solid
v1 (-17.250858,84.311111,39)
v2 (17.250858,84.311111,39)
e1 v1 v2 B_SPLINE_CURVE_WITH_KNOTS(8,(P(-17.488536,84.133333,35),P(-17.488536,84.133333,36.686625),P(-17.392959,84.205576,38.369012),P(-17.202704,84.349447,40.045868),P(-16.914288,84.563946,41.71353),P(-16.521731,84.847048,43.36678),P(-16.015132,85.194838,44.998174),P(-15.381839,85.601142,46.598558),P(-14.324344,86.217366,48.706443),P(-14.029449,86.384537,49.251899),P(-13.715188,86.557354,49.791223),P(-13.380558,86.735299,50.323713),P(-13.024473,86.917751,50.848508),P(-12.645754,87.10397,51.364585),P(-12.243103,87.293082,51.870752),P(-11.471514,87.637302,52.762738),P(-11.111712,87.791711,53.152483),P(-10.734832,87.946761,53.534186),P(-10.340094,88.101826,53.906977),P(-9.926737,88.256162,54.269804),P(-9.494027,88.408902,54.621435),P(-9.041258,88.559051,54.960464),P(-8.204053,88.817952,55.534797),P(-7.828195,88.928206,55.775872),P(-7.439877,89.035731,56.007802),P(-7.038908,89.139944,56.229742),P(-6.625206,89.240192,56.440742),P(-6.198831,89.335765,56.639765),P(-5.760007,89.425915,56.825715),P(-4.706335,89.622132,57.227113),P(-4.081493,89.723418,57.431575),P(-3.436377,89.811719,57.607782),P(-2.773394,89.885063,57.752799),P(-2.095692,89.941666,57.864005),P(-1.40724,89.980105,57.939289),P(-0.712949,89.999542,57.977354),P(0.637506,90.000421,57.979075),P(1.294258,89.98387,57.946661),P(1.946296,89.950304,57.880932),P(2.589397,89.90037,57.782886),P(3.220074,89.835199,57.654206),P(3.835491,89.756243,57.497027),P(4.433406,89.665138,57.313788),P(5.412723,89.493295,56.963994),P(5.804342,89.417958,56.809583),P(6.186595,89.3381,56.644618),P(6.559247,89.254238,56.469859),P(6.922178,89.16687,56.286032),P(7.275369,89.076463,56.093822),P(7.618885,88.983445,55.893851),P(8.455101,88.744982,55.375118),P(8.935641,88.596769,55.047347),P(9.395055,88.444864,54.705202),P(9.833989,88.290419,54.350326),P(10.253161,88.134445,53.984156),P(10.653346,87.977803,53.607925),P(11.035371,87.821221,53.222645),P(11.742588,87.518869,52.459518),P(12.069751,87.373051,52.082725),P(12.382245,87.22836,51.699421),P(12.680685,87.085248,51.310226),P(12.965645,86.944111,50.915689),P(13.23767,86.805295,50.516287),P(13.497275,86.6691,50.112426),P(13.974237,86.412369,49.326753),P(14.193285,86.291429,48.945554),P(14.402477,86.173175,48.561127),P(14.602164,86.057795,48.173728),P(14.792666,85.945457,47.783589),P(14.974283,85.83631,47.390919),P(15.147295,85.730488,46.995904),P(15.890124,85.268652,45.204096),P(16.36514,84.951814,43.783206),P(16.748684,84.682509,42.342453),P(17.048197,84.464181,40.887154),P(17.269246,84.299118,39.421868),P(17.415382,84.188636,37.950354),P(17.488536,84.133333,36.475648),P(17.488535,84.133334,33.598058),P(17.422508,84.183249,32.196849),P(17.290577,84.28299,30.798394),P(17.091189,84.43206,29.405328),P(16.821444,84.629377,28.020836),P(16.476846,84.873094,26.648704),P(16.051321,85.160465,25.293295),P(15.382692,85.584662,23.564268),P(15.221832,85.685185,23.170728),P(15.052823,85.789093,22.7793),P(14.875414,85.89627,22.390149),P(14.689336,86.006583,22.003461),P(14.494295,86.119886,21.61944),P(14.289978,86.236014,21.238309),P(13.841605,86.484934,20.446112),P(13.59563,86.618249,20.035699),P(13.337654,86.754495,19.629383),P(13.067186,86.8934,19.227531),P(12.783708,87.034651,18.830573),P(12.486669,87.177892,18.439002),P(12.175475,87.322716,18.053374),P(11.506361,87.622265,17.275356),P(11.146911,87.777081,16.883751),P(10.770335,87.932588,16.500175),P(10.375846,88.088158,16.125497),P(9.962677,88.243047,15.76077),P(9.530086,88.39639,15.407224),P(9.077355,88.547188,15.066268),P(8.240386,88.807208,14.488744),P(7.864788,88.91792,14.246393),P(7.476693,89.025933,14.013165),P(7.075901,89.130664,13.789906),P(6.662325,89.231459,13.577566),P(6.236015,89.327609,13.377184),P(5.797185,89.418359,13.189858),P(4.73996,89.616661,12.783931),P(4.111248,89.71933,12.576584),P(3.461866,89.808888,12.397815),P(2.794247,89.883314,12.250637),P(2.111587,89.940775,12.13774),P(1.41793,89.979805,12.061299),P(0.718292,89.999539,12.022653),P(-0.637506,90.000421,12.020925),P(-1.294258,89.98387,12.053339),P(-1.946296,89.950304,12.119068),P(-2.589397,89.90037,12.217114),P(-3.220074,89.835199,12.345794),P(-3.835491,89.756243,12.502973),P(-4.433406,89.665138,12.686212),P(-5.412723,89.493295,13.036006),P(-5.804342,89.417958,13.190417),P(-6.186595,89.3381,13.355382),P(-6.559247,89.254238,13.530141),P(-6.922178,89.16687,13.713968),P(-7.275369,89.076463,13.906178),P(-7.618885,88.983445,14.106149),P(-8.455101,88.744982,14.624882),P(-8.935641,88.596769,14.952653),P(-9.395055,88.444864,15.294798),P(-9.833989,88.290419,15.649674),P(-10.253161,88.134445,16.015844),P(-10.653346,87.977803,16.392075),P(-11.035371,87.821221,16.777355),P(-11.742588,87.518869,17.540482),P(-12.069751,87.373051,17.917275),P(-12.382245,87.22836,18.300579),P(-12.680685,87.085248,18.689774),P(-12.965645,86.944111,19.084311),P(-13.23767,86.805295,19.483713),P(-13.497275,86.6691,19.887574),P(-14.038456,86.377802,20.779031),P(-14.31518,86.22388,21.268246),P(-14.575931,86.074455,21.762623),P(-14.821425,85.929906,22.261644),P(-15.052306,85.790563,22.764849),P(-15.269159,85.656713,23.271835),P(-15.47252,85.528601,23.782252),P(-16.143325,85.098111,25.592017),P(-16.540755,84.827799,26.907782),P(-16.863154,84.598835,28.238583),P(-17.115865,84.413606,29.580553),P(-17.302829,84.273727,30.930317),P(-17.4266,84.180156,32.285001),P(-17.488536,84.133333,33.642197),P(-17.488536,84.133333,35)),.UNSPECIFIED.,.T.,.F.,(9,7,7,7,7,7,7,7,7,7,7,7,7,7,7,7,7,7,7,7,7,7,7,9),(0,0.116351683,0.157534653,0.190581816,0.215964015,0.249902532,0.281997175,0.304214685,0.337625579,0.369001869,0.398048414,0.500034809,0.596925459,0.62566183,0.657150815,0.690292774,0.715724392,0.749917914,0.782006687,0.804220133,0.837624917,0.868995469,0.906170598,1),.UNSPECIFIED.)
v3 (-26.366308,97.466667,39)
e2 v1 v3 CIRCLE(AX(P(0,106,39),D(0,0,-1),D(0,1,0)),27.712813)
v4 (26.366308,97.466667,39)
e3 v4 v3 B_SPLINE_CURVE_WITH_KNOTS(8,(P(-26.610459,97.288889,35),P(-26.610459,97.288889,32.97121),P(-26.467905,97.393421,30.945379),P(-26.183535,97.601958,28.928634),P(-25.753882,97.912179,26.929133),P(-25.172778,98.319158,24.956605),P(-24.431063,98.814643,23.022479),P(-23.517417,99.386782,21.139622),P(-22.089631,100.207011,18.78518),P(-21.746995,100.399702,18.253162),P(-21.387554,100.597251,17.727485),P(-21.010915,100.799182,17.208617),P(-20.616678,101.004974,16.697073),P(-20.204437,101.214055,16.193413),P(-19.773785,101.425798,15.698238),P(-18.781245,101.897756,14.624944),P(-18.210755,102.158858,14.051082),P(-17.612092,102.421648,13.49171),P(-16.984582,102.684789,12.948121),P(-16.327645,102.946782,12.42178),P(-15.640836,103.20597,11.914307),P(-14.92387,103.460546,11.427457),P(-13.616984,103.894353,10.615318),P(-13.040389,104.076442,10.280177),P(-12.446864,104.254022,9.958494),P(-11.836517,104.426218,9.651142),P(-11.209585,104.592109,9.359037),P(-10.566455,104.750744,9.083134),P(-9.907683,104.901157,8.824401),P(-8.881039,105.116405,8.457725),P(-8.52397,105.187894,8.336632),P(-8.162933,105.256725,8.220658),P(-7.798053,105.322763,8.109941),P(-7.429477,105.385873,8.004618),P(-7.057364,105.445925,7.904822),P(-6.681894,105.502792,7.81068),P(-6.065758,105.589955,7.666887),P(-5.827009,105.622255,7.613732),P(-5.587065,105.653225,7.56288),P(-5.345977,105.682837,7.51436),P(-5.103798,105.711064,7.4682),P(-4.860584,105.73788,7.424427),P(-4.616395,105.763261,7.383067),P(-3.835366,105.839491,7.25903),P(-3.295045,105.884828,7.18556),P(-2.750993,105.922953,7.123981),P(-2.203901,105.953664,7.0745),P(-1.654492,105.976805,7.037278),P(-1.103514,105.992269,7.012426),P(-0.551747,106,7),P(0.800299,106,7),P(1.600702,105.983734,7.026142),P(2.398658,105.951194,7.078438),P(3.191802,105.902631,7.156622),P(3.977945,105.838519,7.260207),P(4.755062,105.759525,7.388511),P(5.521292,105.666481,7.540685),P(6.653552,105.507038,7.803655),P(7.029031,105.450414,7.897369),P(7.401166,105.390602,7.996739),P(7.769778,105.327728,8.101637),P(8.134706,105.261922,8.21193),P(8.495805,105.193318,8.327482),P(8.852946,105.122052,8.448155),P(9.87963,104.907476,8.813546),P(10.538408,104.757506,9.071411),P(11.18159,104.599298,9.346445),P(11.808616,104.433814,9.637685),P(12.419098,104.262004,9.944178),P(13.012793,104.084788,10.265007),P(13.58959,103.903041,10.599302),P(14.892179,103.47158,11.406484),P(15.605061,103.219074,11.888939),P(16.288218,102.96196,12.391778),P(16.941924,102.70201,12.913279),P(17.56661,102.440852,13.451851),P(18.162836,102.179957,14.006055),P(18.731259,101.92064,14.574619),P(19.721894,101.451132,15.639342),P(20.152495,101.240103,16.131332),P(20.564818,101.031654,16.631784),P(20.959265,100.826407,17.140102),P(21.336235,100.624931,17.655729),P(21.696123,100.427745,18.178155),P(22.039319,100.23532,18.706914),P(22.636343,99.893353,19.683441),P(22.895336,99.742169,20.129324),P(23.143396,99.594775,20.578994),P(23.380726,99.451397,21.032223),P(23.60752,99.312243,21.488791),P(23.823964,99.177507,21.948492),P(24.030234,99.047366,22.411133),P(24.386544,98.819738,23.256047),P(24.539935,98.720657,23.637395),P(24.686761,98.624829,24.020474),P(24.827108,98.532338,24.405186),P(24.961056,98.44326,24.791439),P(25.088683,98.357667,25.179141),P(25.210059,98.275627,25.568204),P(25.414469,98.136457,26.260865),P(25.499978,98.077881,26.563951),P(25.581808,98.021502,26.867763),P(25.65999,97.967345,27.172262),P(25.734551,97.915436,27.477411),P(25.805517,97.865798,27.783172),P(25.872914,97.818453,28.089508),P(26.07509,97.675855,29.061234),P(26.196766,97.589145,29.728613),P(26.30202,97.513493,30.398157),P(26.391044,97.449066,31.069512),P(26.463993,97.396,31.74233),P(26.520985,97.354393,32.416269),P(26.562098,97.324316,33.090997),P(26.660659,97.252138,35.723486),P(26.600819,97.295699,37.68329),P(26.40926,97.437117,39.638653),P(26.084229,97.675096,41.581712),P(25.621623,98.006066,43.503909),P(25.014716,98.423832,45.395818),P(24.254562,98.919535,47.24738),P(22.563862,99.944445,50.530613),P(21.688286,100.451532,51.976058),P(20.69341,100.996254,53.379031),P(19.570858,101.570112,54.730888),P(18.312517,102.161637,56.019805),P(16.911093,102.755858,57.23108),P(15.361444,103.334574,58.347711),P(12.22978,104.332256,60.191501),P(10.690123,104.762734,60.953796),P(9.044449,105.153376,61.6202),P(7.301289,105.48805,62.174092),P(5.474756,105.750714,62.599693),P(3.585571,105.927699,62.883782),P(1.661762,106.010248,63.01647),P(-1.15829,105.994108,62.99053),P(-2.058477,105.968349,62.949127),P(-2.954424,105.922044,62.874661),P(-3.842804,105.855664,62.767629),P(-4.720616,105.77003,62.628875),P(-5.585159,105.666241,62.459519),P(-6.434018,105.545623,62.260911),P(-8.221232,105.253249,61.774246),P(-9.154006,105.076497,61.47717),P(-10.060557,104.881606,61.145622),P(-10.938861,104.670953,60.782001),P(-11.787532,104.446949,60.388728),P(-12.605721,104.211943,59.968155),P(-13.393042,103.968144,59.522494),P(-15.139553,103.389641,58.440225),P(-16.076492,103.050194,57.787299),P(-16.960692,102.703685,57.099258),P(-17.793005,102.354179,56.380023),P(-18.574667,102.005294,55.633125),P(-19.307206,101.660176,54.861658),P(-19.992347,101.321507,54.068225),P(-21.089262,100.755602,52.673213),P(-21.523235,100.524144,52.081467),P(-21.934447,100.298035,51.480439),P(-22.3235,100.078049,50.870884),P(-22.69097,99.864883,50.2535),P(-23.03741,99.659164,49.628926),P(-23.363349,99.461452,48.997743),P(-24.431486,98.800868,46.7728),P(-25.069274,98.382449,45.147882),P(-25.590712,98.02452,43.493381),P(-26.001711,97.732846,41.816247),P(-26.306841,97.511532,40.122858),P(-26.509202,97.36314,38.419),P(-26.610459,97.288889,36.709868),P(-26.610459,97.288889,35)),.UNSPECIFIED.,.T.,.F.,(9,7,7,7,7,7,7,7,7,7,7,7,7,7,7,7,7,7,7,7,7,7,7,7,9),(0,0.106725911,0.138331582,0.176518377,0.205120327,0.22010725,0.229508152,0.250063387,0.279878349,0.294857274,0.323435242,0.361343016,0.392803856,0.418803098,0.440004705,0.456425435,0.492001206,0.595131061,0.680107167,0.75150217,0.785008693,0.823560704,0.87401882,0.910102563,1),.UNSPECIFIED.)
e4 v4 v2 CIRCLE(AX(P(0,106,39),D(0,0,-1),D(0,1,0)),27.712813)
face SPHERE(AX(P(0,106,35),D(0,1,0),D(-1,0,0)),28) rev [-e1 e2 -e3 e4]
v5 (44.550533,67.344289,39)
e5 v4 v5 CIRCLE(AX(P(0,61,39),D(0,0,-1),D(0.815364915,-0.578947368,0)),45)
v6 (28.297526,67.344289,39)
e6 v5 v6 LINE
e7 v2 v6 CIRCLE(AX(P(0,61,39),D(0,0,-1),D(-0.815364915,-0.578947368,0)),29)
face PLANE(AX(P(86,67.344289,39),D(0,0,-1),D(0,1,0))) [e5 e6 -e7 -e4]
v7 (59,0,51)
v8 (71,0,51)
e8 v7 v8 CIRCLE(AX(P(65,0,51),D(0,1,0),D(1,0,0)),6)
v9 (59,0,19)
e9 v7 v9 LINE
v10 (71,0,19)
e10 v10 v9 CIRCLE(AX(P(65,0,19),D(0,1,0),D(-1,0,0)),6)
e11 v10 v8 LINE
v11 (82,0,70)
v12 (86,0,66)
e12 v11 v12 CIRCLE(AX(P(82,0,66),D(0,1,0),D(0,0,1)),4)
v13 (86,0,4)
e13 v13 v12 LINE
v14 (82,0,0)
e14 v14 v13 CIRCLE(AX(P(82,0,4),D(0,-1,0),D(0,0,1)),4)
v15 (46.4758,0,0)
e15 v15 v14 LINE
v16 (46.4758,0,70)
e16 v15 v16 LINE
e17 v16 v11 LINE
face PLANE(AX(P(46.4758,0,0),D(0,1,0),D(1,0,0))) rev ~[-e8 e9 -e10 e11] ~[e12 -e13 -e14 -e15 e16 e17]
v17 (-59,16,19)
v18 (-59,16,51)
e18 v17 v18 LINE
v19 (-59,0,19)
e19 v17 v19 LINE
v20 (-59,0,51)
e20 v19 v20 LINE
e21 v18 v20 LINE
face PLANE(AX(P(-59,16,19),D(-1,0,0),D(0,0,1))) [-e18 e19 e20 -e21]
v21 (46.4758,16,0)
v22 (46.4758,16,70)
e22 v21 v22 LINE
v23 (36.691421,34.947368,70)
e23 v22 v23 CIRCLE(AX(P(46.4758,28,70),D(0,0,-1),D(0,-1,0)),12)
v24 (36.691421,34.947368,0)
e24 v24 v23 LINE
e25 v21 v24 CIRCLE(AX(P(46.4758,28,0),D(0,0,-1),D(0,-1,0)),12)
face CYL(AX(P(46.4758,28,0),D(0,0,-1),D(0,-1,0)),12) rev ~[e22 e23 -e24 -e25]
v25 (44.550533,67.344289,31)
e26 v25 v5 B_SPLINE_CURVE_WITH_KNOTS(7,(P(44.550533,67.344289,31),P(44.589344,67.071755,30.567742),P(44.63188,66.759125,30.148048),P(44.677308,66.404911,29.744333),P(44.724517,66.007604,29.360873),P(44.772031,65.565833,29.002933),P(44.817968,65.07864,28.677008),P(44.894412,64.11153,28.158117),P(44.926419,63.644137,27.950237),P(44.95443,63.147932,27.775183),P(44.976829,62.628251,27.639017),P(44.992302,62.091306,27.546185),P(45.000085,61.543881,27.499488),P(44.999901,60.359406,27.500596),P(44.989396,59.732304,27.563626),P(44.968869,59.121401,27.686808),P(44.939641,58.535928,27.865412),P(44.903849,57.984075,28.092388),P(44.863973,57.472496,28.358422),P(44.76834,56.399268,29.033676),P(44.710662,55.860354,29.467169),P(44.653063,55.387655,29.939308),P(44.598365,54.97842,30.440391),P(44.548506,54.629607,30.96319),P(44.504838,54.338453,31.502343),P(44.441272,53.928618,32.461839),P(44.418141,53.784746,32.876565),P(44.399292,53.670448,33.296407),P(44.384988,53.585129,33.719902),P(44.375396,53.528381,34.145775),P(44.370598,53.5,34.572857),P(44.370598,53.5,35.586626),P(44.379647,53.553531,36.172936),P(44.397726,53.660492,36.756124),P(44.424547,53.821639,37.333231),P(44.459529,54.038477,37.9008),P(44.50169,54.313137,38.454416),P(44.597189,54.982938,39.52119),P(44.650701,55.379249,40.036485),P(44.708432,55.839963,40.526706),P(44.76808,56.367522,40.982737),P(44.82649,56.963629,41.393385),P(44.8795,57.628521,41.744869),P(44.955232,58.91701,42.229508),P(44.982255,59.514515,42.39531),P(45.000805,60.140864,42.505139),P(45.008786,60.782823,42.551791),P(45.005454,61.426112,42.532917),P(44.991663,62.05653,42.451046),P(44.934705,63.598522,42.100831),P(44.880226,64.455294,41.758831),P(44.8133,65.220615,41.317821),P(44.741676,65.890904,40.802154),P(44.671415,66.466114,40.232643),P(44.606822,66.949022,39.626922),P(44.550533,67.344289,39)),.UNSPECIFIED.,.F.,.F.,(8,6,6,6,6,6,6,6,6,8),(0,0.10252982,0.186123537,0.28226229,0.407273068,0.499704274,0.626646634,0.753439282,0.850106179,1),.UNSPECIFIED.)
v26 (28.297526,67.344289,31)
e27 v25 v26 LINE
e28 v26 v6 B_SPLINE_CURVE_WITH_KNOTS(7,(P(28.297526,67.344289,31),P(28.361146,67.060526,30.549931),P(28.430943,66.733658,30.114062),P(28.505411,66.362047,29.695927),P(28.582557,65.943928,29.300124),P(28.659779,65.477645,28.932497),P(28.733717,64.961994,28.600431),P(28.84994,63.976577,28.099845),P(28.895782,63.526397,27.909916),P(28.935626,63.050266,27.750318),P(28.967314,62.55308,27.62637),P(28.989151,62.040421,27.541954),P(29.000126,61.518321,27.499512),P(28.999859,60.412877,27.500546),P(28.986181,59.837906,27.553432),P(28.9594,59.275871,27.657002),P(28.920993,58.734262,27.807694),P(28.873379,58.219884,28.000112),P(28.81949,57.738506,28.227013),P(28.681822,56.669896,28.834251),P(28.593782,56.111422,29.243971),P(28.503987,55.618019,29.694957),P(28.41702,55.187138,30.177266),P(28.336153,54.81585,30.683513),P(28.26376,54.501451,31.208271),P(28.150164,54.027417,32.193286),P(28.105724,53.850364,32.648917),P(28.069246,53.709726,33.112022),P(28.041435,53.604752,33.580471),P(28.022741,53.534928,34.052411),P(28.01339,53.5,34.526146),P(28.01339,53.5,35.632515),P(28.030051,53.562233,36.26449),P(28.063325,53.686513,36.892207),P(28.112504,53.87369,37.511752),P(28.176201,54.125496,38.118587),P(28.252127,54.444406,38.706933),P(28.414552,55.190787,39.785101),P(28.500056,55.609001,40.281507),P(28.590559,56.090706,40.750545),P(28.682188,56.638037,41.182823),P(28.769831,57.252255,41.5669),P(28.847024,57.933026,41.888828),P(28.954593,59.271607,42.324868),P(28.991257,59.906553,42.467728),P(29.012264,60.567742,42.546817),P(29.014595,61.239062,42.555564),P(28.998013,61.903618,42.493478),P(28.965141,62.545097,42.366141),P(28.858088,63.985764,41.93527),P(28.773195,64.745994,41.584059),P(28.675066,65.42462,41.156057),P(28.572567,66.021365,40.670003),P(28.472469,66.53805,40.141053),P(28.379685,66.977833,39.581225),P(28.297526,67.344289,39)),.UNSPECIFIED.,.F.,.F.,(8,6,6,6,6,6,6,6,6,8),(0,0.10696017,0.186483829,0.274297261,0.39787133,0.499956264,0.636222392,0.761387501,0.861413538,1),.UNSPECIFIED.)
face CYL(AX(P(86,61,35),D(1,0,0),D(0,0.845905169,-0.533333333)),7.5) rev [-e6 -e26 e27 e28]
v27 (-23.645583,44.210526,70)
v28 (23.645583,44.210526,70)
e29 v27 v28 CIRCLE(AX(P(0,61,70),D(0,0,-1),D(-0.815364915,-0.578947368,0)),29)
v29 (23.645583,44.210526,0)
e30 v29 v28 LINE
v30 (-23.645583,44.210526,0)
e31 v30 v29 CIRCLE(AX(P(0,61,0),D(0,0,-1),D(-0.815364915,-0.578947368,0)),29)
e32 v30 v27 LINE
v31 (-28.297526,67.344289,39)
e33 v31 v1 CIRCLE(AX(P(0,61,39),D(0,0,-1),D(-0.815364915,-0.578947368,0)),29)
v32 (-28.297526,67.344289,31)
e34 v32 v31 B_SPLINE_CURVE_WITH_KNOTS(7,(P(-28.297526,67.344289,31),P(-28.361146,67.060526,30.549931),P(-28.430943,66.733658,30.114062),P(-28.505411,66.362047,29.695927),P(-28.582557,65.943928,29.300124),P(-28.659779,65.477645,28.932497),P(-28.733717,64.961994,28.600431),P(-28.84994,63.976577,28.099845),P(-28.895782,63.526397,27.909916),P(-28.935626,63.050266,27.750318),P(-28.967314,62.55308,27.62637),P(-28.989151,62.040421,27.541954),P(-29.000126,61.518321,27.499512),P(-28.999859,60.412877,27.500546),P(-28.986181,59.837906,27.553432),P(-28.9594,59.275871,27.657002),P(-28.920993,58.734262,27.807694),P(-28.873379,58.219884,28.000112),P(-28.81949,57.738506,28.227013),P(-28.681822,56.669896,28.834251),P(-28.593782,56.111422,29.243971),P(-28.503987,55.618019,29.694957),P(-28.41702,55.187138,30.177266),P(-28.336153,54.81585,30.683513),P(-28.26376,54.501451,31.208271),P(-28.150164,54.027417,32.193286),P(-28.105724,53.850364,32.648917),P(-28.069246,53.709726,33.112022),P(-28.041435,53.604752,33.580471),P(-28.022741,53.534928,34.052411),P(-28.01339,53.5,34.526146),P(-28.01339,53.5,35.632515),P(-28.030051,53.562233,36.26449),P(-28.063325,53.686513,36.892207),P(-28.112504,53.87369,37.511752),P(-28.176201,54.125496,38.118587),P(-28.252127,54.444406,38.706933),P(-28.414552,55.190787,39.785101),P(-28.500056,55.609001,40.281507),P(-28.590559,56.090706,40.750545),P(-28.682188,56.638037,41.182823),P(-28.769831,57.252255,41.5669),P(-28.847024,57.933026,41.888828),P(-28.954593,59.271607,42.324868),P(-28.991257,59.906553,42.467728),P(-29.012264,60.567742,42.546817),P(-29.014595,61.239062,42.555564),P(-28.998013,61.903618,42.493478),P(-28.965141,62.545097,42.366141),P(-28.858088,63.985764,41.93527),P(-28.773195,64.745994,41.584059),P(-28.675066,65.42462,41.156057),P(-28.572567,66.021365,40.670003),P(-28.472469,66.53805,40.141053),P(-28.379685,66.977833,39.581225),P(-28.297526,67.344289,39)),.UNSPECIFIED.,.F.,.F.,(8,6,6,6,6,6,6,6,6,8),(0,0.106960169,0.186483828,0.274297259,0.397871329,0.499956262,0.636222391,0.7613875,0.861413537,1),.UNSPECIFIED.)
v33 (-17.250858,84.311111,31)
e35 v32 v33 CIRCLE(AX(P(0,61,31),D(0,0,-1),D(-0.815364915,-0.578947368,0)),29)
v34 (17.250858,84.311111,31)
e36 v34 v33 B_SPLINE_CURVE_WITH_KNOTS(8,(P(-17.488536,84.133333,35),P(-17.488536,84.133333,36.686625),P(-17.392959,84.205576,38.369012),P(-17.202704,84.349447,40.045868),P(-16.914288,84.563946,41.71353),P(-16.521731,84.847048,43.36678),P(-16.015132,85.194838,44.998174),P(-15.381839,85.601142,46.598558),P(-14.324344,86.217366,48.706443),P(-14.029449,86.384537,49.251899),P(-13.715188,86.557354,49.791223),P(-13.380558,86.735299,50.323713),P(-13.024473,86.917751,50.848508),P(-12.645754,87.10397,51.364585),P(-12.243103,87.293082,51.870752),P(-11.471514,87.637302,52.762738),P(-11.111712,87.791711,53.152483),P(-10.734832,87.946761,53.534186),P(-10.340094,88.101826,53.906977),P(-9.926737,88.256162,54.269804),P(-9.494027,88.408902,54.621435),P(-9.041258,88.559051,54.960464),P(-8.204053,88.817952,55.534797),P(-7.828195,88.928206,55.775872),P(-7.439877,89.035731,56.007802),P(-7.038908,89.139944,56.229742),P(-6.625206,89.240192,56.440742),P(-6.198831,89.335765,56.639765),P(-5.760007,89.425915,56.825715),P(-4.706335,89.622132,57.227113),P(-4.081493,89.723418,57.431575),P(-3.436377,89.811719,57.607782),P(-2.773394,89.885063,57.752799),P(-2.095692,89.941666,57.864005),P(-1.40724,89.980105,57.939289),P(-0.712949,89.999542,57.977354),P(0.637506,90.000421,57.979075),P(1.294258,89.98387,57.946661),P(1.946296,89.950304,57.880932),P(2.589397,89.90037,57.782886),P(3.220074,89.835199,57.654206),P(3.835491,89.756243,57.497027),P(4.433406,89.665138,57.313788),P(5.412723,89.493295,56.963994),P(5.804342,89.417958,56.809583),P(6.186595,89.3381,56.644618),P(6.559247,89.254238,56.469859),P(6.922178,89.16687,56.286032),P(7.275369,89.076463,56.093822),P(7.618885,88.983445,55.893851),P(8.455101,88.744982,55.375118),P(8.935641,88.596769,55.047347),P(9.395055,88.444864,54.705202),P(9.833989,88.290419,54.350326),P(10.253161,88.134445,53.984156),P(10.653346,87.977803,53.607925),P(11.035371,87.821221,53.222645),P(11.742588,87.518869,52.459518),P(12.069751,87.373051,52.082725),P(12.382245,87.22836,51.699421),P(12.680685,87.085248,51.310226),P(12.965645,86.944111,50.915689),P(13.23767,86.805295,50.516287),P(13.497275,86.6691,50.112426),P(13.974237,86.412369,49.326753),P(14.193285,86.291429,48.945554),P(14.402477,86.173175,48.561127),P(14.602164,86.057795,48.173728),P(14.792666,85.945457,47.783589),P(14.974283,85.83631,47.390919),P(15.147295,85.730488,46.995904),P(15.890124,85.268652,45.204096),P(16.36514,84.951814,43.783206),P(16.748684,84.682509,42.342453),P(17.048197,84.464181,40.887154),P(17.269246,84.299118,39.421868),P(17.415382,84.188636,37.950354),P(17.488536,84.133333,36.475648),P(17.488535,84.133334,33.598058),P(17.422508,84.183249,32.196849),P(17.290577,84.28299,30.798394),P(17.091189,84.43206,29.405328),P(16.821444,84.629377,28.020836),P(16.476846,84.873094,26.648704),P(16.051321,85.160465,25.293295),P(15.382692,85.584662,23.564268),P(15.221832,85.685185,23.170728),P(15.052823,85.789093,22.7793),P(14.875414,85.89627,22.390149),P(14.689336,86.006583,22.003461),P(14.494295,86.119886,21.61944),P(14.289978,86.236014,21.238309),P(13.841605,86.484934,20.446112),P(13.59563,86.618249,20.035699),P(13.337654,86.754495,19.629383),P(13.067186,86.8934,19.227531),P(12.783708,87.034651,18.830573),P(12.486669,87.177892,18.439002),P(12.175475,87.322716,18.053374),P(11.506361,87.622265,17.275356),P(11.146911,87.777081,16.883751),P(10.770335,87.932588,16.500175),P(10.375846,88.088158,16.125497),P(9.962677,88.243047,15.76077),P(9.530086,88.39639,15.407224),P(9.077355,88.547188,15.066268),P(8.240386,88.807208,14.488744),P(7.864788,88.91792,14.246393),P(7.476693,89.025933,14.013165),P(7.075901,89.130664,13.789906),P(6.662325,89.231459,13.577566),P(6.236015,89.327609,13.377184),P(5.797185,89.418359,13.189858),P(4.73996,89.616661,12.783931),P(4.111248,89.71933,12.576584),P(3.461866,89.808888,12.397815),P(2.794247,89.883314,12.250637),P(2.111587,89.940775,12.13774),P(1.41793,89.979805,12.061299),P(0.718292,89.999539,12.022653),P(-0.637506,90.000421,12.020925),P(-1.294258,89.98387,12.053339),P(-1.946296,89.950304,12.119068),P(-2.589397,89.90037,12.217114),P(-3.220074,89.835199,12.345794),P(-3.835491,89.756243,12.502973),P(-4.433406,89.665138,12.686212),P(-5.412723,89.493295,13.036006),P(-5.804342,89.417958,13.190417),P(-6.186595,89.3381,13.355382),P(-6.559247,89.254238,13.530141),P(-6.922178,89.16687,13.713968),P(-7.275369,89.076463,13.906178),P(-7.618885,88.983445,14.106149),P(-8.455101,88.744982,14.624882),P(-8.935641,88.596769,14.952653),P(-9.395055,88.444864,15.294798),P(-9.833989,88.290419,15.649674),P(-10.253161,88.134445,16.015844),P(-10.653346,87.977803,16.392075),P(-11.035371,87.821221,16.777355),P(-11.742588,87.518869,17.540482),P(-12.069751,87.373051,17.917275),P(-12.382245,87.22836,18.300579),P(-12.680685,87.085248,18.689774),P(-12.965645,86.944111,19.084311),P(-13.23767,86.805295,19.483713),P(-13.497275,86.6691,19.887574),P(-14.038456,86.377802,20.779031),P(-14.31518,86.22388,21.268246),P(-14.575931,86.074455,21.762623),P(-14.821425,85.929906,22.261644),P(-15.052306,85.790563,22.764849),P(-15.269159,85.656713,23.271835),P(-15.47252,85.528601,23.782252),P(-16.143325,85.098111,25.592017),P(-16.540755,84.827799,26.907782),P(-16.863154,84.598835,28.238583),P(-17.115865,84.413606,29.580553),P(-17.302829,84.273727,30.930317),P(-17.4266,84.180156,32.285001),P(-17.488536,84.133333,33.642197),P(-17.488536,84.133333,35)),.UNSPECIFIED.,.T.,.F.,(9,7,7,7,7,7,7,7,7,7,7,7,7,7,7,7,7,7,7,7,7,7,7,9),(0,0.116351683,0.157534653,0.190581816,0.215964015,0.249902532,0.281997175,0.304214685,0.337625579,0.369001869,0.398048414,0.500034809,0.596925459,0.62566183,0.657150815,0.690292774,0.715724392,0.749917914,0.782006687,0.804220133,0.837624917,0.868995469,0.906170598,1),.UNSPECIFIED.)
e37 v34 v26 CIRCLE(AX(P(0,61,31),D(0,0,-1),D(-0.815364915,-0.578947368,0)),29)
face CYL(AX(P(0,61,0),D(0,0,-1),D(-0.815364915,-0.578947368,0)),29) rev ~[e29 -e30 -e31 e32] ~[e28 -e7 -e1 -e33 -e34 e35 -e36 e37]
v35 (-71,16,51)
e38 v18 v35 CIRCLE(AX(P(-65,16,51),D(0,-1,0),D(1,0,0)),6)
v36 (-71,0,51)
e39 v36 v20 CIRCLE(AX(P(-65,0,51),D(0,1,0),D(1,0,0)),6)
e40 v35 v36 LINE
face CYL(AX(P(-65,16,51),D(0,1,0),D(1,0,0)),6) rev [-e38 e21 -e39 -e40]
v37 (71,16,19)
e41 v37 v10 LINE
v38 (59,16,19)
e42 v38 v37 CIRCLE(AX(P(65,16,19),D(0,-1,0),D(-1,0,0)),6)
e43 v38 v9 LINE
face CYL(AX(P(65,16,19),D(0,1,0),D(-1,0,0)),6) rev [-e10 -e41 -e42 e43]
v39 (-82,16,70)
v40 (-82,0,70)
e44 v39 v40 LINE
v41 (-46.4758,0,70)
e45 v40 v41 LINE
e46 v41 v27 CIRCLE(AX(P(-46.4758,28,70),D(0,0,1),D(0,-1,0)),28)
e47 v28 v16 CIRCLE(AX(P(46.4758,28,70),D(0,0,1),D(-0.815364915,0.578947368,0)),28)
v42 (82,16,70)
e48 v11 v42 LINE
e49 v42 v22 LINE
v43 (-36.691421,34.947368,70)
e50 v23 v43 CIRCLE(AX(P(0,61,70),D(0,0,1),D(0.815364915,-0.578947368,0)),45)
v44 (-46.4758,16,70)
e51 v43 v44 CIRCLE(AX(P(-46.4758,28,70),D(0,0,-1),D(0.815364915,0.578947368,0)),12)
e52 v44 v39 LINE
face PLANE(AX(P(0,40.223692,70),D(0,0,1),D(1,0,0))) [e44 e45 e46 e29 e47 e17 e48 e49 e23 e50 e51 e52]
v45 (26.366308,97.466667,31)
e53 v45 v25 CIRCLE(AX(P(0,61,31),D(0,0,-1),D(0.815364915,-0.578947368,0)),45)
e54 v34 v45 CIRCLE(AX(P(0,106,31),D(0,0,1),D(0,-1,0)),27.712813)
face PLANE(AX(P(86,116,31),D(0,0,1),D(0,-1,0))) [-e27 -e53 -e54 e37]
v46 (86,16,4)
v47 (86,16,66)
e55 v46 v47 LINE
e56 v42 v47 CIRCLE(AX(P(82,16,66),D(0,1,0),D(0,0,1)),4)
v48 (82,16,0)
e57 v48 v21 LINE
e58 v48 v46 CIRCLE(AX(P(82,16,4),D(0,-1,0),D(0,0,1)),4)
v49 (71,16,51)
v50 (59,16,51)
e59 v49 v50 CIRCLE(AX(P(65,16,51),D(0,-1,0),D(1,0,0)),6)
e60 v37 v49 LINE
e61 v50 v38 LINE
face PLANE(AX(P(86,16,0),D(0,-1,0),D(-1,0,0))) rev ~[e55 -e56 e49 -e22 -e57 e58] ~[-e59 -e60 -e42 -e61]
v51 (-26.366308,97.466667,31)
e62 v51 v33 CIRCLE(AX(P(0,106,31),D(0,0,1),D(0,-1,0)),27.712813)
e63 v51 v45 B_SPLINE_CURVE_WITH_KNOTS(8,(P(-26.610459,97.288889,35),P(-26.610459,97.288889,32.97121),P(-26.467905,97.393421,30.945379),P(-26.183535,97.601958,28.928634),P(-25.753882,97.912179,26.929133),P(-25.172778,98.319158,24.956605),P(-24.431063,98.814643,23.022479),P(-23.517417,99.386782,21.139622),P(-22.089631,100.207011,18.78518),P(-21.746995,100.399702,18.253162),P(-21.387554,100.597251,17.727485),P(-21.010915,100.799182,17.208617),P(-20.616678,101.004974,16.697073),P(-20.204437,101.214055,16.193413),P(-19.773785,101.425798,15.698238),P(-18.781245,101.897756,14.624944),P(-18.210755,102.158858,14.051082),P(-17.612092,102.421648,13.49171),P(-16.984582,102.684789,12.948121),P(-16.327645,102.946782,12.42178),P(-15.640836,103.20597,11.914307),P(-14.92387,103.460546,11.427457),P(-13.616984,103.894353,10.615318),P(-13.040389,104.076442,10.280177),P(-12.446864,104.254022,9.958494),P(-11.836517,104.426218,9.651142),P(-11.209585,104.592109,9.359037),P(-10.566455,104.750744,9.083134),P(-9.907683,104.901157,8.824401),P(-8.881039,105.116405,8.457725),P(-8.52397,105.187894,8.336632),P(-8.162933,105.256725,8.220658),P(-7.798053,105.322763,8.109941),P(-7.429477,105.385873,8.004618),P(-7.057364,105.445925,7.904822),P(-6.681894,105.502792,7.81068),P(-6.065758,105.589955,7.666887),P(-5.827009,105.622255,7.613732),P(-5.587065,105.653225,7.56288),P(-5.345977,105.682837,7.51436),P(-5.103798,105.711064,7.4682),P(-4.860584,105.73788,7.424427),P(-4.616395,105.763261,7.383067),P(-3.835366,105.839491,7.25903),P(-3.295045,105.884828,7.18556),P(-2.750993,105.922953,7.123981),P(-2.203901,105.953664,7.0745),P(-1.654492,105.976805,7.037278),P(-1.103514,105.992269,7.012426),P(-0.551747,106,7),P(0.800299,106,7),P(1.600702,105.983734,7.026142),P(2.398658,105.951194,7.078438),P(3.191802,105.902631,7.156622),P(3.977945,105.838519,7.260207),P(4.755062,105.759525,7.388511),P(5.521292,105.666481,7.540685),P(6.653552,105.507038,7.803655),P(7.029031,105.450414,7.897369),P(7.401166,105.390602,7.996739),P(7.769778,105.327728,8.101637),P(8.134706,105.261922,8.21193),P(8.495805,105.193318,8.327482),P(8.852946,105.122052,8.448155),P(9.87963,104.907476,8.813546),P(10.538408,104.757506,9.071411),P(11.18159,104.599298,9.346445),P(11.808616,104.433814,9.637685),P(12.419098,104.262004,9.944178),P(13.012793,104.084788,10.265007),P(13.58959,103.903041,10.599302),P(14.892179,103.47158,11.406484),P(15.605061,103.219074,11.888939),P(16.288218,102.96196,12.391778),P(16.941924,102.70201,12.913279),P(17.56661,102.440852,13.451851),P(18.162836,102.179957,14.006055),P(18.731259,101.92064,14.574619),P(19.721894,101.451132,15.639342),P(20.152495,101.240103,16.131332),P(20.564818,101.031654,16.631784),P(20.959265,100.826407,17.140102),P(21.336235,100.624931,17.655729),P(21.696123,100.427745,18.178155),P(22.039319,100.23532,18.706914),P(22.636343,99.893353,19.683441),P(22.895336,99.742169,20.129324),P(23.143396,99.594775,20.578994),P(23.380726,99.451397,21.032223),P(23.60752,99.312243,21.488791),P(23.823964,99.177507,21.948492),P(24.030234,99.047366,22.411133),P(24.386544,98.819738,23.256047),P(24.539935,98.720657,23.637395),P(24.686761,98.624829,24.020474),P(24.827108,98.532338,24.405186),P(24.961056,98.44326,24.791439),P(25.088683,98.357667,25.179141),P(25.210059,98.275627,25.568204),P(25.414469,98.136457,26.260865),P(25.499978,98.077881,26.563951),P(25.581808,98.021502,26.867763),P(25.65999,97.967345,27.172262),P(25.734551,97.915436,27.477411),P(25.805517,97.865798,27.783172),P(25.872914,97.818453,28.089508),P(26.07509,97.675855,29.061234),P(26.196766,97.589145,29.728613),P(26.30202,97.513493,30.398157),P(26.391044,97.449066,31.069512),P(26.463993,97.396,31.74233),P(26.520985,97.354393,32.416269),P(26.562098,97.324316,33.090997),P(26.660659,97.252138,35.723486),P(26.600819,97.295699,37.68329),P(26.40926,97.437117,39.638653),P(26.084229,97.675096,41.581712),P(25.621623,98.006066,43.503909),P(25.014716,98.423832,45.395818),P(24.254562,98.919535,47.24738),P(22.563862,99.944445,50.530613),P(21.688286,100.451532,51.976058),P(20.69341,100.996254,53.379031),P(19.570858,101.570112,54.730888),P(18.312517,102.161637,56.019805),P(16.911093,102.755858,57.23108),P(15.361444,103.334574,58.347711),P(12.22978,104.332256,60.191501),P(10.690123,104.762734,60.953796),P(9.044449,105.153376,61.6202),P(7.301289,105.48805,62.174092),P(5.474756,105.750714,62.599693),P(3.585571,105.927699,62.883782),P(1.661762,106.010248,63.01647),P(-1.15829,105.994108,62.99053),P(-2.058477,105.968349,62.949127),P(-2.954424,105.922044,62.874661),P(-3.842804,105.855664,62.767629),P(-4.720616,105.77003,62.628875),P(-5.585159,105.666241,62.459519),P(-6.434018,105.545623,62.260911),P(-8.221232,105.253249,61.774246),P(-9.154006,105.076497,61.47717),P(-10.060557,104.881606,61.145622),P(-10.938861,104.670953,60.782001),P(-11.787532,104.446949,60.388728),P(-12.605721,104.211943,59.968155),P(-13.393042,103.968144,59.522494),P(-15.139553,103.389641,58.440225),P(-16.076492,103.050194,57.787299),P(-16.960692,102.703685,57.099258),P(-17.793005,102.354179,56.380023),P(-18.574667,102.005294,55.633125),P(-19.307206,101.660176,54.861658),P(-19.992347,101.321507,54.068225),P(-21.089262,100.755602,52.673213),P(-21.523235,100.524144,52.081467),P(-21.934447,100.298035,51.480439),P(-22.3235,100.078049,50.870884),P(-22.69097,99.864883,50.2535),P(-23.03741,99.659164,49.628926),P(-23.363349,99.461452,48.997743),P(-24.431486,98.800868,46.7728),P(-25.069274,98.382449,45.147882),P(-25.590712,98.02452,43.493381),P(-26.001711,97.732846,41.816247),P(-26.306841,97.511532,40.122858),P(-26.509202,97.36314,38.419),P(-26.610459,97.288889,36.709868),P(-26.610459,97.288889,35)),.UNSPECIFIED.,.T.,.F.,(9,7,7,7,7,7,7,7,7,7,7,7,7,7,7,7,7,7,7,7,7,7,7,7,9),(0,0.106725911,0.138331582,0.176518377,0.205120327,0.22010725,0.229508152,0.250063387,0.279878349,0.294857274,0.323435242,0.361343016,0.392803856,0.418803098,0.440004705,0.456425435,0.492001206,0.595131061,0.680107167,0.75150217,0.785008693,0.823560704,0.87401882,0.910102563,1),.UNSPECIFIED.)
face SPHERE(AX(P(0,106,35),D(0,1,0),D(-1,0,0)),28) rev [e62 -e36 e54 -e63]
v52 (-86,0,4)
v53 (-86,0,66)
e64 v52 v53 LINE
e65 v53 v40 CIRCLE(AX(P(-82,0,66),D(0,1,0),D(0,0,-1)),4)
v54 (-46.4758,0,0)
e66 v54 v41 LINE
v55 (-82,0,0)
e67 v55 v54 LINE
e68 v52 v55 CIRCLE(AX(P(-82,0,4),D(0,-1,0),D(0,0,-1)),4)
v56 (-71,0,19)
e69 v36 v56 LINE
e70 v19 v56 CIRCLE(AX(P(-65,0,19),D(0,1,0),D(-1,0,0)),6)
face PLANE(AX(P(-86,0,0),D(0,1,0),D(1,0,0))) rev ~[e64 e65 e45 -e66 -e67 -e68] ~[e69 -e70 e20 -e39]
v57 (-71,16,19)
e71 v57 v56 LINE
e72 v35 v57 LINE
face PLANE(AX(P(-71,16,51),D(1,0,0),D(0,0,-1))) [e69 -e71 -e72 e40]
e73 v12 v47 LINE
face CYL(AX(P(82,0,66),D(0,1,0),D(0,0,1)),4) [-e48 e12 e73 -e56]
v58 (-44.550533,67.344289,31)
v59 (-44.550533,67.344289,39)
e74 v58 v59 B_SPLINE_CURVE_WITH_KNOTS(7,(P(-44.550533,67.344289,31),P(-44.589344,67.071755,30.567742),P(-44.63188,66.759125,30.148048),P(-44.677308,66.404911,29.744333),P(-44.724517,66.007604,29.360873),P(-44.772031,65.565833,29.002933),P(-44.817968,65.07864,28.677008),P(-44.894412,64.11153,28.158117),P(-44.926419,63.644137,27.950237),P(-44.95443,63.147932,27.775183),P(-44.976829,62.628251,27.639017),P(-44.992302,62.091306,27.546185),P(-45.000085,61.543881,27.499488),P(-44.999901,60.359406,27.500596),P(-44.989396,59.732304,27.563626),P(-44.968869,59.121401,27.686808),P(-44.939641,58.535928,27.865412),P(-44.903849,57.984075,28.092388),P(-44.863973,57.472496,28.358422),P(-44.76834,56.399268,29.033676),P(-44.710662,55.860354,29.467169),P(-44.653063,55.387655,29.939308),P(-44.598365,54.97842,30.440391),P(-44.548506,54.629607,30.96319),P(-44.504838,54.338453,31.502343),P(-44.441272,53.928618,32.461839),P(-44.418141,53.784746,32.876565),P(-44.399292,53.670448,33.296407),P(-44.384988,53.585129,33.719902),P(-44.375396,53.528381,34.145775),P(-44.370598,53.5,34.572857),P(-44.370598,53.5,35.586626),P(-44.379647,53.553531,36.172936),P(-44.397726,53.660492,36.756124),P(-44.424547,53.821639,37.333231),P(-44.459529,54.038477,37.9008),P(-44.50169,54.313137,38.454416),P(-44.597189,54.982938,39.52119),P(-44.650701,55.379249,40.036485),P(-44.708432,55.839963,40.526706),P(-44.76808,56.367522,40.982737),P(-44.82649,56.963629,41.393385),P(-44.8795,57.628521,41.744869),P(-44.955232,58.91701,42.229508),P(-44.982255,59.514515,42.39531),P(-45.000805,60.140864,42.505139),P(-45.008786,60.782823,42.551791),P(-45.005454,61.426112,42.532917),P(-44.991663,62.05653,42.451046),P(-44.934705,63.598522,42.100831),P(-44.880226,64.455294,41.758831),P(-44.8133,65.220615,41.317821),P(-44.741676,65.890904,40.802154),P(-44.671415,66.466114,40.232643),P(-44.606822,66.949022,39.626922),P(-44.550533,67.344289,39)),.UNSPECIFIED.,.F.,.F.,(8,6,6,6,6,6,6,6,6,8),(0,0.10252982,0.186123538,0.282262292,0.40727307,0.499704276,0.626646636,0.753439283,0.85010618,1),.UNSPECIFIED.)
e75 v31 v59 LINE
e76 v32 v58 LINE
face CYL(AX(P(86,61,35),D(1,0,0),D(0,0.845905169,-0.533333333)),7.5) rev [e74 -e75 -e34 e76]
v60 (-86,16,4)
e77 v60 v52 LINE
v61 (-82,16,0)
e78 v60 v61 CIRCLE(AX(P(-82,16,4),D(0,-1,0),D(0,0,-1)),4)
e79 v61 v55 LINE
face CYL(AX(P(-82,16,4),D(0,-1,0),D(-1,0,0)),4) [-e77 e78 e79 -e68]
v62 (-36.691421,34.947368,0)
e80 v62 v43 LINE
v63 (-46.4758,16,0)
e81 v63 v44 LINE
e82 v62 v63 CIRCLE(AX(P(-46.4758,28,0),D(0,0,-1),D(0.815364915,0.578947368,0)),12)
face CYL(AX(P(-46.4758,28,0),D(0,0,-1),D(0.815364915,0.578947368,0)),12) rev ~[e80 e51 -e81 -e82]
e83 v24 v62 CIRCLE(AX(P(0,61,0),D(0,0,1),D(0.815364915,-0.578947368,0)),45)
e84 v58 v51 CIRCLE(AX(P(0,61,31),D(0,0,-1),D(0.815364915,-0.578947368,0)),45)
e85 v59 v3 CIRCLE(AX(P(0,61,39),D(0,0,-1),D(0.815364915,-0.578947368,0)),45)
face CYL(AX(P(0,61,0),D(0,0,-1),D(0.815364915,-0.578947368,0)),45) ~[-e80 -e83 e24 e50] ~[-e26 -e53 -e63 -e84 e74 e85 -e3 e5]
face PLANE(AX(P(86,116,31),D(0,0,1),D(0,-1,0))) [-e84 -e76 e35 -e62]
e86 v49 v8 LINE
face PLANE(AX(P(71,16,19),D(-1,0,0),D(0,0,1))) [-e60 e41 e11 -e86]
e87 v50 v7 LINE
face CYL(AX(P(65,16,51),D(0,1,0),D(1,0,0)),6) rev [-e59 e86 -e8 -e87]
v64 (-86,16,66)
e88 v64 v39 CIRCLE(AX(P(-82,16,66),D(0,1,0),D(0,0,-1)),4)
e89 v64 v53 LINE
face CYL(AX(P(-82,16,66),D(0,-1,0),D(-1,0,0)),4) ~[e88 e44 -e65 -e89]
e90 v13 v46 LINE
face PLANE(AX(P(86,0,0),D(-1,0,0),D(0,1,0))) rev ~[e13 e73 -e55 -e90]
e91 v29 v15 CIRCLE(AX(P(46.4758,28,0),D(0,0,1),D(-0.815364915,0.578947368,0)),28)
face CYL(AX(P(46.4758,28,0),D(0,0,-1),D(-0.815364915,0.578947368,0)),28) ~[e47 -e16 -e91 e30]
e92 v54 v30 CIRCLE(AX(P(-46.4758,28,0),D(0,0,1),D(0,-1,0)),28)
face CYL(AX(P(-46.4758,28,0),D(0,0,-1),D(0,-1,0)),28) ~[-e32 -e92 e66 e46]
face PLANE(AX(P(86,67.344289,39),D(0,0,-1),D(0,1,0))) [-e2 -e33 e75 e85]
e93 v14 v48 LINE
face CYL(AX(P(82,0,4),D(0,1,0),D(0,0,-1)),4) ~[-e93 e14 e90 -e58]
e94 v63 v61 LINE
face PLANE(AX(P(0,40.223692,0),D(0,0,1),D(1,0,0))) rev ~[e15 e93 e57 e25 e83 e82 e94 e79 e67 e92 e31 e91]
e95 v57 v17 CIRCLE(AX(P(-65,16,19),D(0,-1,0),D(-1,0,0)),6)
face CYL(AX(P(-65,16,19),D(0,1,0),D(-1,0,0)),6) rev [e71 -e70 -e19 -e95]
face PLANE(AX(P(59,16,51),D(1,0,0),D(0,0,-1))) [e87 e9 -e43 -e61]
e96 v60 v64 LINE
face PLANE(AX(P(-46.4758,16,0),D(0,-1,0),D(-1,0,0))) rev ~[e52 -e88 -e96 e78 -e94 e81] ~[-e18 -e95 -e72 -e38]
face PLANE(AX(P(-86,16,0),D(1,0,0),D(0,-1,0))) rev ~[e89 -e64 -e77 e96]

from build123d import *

# Parameters (mm, degrees)
EXTRUDE_THIN1_DEPTH = 70
CUT_EXTRUDE1_DEPTH  = 214.822356174
CUT_EXTRUDE2_DEPTH  = 143.814565196
FILLET1_R           = 4


with BuildPart() as part:
    # Sketch1 → Extrude-Thin1 (new body)
    with BuildSketch(Plane.XY):
        with BuildLine():
            Line((-86, 0), (-46.475800154, 0))
            ThreePointArc((-46.475800154, 0), (-21.597147289, 15.152718903), (-23.645582535, 44.210526316))
            ThreePointArc((-23.645582535, 44.210526316), (0, 90), (23.645582535, 44.210526316))
            ThreePointArc((23.645582535, 44.210526316), (21.597147289, 15.152718903), (46.475800154, 0))
            Line((46.475800154, 0), (86, 0))
            Line((86, 0), (86, 16))
            Line((86, 16), (46.475800154, 16))
            ThreePointArc((46.475800154, 16), (35.813520355, 22.494022387), (36.691421175, 34.947368421))
            ThreePointArc((36.691421175, 34.947368421), (0, 106), (-36.691421175, 34.947368421))
            ThreePointArc((-36.691421175, 34.947368421), (-35.813520355, 22.494022387), (-46.475800154, 16))
            Line((-46.475800154, 16), (-86, 16))
            Line((-86, 16), (-86, 0))
        make_face()
    extrude(amount=EXTRUDE_THIN1_DEPTH)

    # Sketch3 → Cut-Extrude1 (cut, through all)
    with BuildSketch(Plane(origin=(86, 0, 0), x_dir=(0, 0, -1), z_dir=(1, 0, 0))):
        with BuildLine():
            Line((-39, 67.34428877), (-39, 116))
            Line((-39, 116), (-31, 116))
            Line((-31, 116), (-31, 67.34428877))
            ThreePointArc((-31, 67.34428877), (-35, 53.5), (-39, 67.34428877))
        make_face()
    extrude(amount=-CUT_EXTRUDE1_DEPTH, mode=Mode.SUBTRACT)

    # Sketch4 → Cut-Extrude2 (cut, through all)
    with BuildSketch(Plane(origin=(0, 16, 0), x_dir=(1, 0, 0), z_dir=(0, 1, 0))):
        with BuildLine():
            Line((-59, -19), (-59, -51))
            ThreePointArc((-59, -51), (-65, -57), (-71, -51))
            Line((-71, -51), (-71, -19))
            ThreePointArc((-71, -19), (-65, -13), (-59, -19))
        make_face()
        with BuildLine():
            Line((71, -19), (71, -51))
            ThreePointArc((71, -51), (65, -57), (59, -51))
            Line((59, -51), (59, -19))
            ThreePointArc((59, -19), (65, -13), (71, -19))
        make_face()
    extrude(amount=-CUT_EXTRUDE2_DEPTH, mode=Mode.SUBTRACT)

    # Sketch6 → Cut-Revolve1 (revolve, cut)
    with BuildSketch(Plane.XY.offset(35)):
        with BuildLine():
            Line((0, 134), (0, 78))
            ThreePointArc((0, 78), (-28, 106), (0, 134))
        make_face()
    revolve(axis=Axis((0, 134, 35), (0, -1, 0)), mode=Mode.SUBTRACT)

    # Fillet1
    fillet1_edges = [part.edges().sort_by_distance(p)[0] for p in [
        (-86, 8, 0),
        (86, 8, 0),
        (-86, 8, 70),
        (86, 8, 70),
    ]]
    fillet(fillet1_edges, radius=FILLET1_R)


solid = part.part
